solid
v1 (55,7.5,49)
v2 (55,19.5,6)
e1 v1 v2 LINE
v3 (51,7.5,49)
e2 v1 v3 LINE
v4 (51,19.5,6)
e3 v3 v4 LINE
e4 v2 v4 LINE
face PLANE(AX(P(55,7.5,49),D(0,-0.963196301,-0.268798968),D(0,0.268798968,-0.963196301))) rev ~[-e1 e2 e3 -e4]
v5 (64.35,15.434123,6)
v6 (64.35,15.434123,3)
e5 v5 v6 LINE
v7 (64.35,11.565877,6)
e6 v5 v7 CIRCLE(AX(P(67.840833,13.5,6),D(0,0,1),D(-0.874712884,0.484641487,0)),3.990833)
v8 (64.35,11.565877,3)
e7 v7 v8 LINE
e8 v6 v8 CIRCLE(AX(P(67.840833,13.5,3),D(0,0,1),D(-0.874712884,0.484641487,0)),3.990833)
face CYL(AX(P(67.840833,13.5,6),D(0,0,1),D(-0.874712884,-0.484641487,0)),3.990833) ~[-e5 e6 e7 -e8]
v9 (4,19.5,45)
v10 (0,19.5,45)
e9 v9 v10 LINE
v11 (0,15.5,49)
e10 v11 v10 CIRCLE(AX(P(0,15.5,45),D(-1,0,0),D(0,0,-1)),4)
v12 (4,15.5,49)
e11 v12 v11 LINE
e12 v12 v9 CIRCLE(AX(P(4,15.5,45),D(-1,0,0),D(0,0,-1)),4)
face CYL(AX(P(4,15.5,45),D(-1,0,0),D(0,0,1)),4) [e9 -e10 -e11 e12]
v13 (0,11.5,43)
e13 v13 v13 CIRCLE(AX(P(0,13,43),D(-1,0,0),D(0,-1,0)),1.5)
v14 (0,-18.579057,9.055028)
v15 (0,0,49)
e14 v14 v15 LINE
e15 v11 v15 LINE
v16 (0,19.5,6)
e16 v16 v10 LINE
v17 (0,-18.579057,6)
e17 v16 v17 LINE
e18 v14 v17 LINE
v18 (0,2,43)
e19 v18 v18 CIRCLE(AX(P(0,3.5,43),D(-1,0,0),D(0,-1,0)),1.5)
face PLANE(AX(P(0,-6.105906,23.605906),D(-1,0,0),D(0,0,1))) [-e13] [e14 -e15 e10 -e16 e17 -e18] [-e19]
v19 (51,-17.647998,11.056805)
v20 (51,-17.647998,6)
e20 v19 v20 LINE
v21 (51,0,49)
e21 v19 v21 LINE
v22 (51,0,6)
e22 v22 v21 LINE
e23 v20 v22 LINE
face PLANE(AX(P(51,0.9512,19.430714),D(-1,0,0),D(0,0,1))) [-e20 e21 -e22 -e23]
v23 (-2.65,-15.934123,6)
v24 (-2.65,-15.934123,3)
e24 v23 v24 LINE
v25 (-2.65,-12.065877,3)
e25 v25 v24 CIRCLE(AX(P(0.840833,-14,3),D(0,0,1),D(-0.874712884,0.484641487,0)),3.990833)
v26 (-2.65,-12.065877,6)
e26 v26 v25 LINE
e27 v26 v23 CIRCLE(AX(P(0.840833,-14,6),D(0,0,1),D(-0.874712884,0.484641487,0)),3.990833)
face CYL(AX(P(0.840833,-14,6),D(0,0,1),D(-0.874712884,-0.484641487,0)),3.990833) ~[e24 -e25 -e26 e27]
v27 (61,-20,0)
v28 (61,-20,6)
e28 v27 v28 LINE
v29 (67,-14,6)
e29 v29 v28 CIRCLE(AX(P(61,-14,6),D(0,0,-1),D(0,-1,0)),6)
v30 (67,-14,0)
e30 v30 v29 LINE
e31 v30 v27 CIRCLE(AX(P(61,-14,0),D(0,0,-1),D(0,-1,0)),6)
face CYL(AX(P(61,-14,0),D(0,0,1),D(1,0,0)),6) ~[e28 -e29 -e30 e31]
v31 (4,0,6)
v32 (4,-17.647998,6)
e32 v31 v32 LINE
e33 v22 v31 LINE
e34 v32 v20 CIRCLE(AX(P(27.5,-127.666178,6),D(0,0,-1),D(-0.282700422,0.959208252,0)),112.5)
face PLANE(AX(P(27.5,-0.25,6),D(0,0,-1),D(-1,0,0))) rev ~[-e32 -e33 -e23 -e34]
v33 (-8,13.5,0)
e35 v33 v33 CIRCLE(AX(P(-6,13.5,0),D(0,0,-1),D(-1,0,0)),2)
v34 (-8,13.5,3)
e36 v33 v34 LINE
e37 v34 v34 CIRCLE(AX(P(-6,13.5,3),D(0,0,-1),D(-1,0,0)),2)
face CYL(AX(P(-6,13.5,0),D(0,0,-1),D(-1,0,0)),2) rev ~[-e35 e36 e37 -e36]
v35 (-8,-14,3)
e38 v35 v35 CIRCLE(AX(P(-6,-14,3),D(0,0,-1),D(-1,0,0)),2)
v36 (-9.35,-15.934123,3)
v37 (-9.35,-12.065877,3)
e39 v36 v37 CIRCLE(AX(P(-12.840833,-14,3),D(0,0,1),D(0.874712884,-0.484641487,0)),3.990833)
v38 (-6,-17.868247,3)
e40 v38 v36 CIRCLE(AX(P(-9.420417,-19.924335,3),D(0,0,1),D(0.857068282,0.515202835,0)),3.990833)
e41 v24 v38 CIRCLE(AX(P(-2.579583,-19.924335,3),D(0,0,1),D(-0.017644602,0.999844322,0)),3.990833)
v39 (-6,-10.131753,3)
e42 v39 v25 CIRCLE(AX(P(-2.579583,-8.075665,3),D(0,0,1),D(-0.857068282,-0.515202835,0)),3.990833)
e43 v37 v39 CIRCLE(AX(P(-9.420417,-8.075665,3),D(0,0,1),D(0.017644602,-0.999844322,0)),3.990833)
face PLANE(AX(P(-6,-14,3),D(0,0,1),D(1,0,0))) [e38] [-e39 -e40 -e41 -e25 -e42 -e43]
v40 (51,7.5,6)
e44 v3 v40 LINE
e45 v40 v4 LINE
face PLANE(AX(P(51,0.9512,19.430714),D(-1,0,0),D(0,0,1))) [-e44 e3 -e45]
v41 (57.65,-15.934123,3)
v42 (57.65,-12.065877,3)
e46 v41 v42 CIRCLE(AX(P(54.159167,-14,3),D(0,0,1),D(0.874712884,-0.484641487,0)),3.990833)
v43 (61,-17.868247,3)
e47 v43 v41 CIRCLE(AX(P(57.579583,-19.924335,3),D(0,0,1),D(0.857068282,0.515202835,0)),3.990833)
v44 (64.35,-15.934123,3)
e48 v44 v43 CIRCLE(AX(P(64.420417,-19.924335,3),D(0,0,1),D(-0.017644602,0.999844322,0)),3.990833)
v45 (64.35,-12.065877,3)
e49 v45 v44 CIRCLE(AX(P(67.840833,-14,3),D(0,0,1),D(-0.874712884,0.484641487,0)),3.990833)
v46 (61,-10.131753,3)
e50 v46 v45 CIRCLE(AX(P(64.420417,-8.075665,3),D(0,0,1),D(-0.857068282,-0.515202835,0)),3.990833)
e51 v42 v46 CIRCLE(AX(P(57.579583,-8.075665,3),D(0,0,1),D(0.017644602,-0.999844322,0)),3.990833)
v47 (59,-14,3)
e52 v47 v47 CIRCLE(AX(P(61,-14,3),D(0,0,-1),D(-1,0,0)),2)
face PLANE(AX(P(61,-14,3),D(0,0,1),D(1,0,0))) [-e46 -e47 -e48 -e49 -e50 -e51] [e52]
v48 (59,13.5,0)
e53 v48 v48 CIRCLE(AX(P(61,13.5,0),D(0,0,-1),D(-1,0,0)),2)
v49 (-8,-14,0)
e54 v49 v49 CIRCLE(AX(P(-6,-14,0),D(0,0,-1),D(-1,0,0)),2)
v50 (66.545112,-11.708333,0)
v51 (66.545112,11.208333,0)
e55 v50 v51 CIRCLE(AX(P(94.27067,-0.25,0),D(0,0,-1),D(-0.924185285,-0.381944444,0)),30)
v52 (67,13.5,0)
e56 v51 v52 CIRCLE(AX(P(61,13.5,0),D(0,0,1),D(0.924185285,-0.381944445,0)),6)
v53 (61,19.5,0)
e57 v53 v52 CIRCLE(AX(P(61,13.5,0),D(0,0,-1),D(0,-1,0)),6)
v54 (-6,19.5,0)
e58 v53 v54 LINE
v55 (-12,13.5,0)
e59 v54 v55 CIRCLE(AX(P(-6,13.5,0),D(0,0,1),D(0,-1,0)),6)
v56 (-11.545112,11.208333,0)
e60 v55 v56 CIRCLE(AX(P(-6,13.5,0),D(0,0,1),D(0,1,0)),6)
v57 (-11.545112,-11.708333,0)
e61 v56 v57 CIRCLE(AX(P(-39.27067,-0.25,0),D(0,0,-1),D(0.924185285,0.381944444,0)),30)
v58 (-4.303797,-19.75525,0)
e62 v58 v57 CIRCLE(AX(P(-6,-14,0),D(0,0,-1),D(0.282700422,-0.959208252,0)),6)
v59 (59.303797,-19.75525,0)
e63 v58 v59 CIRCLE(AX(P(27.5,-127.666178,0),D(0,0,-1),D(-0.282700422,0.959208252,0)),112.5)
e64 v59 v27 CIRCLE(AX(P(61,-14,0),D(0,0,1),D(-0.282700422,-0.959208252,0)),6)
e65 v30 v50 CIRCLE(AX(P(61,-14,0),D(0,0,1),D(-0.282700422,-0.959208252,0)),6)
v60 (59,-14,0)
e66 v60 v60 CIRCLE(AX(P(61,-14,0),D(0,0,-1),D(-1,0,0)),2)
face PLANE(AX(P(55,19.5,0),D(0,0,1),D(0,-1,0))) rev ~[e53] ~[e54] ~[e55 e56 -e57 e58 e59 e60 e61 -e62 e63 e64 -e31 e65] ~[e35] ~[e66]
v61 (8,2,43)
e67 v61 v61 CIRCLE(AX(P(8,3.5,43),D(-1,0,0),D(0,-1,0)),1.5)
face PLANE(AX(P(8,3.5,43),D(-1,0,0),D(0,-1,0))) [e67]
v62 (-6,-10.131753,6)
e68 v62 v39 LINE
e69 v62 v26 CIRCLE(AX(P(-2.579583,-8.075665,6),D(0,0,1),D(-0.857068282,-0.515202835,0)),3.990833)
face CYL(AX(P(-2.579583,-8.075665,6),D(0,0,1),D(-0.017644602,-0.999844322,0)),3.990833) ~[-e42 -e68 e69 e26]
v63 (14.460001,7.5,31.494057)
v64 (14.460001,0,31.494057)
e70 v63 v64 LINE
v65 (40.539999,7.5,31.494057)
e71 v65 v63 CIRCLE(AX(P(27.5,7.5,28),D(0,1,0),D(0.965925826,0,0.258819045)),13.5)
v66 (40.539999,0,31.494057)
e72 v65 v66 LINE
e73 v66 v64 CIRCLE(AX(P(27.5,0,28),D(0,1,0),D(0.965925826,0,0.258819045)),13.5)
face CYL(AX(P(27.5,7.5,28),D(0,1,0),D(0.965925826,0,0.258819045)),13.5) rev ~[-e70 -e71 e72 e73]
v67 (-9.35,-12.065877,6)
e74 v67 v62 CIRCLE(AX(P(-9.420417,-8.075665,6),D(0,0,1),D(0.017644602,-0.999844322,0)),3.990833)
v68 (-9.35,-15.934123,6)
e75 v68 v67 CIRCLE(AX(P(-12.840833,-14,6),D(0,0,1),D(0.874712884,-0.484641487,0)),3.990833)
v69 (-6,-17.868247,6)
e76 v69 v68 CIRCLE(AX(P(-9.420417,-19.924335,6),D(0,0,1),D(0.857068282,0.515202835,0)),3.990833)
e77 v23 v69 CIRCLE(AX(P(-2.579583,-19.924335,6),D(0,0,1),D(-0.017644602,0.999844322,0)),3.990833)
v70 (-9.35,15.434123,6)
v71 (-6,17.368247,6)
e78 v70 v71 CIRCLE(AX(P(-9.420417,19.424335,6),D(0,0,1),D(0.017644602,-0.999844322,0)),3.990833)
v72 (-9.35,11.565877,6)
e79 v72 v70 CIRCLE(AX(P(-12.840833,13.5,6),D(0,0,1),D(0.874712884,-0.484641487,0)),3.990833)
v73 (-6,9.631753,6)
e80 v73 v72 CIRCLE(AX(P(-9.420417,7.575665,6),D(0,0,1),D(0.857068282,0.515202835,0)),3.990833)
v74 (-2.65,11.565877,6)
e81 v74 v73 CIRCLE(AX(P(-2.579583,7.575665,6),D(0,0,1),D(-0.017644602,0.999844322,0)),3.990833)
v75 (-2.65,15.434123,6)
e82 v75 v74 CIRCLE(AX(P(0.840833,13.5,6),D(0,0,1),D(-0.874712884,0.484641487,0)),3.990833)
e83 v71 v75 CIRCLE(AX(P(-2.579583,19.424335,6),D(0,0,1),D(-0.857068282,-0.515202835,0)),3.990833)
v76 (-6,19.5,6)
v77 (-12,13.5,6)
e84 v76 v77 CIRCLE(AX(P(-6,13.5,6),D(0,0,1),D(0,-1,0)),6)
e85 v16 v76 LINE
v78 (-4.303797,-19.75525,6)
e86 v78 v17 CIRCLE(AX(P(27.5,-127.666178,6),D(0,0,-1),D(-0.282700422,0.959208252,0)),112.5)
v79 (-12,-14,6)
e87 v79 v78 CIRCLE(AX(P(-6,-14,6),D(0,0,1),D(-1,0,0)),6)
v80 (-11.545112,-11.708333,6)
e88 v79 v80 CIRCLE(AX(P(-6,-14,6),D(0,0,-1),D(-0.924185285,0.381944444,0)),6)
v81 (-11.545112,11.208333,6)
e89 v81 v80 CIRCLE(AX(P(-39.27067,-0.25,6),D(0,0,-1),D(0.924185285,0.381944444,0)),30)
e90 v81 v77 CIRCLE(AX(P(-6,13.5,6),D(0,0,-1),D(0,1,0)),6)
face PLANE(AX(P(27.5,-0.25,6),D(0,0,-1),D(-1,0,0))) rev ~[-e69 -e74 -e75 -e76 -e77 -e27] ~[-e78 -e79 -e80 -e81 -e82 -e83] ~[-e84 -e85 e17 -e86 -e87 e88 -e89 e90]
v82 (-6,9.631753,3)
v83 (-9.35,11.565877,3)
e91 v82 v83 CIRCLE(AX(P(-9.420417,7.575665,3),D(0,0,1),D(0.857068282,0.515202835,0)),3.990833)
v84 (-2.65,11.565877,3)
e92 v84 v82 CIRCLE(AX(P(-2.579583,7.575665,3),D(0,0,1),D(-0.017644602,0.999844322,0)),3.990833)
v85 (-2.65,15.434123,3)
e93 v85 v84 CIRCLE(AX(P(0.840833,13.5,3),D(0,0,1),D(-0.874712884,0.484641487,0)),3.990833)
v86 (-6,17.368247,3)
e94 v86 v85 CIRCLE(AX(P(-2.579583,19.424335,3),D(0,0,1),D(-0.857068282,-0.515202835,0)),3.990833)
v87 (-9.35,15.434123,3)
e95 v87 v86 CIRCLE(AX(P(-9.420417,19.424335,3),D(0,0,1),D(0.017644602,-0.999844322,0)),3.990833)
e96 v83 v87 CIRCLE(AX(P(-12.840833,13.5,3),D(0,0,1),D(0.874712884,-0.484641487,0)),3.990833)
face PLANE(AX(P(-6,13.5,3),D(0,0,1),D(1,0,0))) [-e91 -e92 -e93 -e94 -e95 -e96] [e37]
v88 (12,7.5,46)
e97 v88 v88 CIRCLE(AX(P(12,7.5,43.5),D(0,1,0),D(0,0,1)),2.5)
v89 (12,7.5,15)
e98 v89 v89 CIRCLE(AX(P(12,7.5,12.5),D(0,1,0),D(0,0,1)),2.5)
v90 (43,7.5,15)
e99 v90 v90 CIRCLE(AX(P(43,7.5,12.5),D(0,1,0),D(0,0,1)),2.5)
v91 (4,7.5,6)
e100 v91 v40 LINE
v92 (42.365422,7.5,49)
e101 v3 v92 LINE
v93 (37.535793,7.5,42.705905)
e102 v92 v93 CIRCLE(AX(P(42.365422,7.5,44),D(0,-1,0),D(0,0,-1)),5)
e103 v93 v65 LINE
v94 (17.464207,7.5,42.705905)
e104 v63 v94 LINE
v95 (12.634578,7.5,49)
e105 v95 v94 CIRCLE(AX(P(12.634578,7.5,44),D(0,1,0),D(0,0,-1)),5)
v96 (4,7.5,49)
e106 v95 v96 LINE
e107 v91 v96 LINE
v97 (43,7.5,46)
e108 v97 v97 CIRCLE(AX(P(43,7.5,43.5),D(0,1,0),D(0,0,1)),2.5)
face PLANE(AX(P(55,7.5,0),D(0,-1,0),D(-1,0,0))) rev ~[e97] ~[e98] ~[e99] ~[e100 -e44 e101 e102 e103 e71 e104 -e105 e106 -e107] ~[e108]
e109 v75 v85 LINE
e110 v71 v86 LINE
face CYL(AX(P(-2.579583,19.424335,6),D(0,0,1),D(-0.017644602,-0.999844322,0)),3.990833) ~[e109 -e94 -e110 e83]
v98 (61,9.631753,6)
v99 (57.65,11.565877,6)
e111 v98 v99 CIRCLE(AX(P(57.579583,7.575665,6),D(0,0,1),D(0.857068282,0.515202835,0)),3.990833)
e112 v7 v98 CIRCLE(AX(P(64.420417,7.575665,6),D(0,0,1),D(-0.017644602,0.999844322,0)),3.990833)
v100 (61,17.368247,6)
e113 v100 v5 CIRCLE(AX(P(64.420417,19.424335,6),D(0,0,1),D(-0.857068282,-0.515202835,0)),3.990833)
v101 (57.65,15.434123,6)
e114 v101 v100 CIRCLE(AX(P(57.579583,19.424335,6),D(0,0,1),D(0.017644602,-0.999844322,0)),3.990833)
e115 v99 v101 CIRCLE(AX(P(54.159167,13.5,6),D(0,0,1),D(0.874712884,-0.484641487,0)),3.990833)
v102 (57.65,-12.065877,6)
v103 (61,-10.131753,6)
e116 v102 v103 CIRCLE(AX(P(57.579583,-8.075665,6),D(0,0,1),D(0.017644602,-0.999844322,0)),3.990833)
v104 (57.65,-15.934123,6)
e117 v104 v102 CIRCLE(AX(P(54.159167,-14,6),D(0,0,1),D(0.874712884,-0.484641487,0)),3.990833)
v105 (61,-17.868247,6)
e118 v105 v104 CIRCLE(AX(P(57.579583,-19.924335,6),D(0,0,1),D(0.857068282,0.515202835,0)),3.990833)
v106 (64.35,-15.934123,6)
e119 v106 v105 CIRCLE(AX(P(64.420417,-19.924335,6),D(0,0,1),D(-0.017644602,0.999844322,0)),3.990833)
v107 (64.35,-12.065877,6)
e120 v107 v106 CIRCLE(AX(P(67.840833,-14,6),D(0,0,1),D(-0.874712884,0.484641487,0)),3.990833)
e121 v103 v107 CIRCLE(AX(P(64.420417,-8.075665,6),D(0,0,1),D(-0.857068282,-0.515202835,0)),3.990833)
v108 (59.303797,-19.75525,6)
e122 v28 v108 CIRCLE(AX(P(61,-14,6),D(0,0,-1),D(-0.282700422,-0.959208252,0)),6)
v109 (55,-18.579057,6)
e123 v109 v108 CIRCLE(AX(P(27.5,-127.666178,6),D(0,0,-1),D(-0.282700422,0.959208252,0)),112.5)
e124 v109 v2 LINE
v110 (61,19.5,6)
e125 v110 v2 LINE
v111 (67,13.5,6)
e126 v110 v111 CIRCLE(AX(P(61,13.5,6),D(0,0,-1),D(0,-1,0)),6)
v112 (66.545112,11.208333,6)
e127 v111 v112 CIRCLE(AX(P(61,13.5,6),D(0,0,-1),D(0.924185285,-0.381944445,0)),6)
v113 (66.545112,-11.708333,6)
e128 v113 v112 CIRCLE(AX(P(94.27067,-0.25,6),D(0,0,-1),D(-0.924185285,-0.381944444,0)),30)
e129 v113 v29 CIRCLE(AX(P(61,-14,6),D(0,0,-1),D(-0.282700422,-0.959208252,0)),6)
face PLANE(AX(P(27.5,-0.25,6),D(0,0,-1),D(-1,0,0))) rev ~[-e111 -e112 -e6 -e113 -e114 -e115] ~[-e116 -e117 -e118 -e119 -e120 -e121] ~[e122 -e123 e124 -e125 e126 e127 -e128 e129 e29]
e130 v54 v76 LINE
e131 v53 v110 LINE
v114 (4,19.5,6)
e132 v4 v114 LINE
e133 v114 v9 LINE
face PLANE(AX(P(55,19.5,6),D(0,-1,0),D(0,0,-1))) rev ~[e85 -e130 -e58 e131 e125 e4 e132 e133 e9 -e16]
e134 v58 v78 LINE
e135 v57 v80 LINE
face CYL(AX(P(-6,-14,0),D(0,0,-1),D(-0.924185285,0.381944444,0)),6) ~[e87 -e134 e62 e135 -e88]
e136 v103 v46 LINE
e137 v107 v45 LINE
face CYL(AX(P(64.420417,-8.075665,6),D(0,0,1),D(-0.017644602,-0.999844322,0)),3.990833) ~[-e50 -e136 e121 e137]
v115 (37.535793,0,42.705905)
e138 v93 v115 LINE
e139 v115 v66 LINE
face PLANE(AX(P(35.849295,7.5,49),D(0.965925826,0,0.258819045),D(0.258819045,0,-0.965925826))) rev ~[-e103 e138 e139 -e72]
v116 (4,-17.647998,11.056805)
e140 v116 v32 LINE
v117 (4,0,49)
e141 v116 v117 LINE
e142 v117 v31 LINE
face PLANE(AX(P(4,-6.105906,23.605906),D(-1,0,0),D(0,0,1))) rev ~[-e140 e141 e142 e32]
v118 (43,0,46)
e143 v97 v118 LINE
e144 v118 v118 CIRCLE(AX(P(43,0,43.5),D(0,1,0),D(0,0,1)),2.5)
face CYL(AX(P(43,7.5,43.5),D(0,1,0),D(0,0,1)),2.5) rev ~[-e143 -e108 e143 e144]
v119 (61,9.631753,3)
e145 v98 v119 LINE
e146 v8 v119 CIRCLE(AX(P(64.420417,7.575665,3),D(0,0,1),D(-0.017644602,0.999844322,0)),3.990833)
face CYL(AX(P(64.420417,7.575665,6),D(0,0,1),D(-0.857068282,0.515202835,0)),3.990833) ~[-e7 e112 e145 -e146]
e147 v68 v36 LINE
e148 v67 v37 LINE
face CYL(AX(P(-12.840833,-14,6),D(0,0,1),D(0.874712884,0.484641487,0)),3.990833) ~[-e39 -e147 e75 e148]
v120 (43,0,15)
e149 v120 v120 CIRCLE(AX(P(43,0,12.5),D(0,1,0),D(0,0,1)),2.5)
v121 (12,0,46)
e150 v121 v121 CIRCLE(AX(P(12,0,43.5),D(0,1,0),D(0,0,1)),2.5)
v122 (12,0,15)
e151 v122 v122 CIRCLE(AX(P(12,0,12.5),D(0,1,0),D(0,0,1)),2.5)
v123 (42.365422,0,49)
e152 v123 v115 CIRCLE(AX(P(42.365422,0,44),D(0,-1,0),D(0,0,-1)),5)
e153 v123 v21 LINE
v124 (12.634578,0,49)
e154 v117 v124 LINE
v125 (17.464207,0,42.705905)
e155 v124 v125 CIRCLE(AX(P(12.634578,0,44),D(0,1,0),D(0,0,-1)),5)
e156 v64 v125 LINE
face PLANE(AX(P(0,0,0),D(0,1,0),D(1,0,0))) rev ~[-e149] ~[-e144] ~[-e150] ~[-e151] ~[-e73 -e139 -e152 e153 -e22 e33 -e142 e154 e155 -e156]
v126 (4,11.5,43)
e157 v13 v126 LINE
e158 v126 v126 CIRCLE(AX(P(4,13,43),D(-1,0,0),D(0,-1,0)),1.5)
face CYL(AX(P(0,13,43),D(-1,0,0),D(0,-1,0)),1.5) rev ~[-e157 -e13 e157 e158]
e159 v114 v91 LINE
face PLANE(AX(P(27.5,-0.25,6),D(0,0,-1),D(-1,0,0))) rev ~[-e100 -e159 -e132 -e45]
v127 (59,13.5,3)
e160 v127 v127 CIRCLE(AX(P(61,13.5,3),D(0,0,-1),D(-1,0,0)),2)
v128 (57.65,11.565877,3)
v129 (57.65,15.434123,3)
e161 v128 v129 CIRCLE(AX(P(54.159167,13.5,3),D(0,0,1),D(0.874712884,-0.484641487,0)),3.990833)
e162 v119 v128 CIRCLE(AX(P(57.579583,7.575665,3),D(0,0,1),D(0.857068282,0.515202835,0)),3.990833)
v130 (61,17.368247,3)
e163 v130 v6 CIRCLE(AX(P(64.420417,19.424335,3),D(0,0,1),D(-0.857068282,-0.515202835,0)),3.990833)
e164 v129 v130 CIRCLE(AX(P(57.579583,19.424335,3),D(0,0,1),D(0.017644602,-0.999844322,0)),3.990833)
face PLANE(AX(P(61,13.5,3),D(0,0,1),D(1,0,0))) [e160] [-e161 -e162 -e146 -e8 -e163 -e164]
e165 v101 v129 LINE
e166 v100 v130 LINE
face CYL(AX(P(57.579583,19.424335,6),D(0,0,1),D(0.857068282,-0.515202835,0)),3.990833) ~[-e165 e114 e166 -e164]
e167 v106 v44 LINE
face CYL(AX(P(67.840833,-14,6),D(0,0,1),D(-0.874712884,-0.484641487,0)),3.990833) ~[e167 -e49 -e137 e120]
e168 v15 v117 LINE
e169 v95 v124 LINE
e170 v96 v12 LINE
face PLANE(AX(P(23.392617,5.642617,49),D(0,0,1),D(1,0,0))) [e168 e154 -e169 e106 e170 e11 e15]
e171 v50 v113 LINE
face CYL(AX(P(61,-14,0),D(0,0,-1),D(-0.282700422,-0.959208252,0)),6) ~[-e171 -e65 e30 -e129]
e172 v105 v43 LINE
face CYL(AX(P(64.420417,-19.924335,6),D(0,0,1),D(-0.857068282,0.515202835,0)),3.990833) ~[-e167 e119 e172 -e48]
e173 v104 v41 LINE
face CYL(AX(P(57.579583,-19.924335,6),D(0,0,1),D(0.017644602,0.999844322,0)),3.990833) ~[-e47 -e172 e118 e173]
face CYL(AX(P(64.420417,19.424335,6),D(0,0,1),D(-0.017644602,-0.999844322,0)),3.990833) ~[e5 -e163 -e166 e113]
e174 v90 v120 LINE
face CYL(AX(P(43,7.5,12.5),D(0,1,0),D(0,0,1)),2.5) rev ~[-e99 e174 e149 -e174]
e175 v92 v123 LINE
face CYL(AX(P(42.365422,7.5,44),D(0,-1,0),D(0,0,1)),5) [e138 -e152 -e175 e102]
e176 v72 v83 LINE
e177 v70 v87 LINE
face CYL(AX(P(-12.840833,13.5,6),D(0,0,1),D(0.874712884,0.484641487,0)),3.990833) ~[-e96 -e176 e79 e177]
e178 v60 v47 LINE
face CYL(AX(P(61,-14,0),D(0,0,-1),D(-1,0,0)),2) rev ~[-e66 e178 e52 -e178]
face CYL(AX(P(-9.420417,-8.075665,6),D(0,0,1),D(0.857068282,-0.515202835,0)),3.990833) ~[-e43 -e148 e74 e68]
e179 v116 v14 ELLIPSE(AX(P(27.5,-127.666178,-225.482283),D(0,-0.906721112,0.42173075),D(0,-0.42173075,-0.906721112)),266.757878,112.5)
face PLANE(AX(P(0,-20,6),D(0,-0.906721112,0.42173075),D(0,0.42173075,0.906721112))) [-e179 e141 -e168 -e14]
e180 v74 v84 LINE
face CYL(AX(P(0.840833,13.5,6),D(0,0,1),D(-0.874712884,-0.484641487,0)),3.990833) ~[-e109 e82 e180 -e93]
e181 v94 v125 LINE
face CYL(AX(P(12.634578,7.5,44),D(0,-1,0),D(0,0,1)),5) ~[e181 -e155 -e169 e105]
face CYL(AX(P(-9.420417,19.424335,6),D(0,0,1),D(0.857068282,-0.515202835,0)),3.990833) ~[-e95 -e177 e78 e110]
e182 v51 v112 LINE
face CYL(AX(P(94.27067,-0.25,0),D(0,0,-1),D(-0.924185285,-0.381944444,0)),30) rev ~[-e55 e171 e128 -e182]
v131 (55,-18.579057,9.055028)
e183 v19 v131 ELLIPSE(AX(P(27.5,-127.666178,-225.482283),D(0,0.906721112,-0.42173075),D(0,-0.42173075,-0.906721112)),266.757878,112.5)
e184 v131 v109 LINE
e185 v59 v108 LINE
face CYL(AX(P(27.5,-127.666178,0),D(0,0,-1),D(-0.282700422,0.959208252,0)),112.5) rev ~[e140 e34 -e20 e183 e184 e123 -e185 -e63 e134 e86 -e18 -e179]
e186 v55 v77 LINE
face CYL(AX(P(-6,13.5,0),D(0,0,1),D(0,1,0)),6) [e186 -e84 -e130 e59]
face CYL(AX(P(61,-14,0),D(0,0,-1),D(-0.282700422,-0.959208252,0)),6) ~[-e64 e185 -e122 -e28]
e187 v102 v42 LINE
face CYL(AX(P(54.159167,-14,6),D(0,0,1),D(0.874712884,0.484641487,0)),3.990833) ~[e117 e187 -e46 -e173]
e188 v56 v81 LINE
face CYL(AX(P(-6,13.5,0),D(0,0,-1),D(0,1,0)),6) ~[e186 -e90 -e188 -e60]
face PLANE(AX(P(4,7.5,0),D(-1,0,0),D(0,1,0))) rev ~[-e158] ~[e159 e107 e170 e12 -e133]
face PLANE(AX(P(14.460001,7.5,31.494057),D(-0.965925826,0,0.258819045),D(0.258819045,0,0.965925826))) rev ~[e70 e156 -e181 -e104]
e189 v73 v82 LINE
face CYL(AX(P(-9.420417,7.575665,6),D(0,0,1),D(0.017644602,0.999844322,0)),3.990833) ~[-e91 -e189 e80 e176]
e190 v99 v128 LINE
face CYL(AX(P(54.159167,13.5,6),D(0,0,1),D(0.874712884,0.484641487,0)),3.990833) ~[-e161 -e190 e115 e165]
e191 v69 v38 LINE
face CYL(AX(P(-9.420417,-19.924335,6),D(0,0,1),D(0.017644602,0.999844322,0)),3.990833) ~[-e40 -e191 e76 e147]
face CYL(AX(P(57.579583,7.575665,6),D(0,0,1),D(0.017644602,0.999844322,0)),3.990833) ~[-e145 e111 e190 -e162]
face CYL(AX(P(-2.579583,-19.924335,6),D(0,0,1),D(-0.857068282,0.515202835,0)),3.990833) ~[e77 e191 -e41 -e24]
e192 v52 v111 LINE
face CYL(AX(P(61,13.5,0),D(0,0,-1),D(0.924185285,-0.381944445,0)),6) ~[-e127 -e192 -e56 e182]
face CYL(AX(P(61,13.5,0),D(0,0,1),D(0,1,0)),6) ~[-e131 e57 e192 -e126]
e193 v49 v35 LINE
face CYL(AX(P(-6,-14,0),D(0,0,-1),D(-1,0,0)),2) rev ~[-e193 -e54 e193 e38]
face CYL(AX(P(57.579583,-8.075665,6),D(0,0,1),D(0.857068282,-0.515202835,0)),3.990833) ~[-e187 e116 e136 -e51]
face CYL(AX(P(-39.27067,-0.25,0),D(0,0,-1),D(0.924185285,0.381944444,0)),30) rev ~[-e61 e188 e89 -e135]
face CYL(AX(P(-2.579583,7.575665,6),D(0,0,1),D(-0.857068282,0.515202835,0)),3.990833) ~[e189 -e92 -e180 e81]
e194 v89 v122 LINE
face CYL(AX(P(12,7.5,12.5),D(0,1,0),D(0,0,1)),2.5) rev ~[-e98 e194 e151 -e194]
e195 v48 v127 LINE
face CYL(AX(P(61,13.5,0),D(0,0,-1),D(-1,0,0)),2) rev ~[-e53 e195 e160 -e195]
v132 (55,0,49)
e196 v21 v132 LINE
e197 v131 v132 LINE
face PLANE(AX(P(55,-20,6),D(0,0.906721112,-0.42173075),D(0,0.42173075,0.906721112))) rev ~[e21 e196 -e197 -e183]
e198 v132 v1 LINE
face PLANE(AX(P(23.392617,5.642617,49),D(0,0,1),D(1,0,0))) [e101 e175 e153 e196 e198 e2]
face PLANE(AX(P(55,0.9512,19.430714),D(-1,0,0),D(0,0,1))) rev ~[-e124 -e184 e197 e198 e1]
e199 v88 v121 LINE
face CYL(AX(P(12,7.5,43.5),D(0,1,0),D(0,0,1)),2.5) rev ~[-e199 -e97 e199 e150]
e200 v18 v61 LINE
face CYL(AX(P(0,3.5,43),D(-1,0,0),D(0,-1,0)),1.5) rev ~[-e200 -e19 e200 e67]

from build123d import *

# Parameters (mm, degrees)
BOSS_EXTRUDE1_DEPTH  = 49
SKETCH2_R            = 2.5
CUT_EXTRUDE1_DEPTH   = 8.5
SKETCH4_W            = 79
SKETCH4_H            = 39.5
BOSS_EXTRUDE2_DEPTH  = 6
BOSS_EXTRUDE3_DEPTH  = 4
SKETCH5_R            = 2
CUT_EXTRUDE3_DEPTH   = 10
BOSS_EXTRUDE4_DEPTH  = 4
SKETCH8_R            = 1.5
CUT_EXTRUDE4_DEPTH   = 8
FILLET1_R            = 6
FILLET2_R            = 5
CUT_EXTRUDE5_DEPTH   = 3
CUT_EXTRUDE6_DEPTH   = 50
FILLET3_R            = 4
CUT_EXTRUDE7_DEPTH   = 3
LPATTERN1_COUNT      = 2
LPATTERN1_PITCH      = 67
LPATTERN1_COUNT_DIR2 = 2
LPATTERN1_PITCH_DIR2 = 27.5


with BuildPart() as part:
    # Sketch1 → Boss-Extrude1 (new body)
    with BuildSketch(Plane.XY):
        Polygon((4, 7.5), (4, 19.5), (0, 19.5), (0, 0), (55, 0), (55, 7.5), align=None)
    extrude(amount=BOSS_EXTRUDE1_DEPTH)

    # Sketch2 → Cut-Extrude1 (cut, through all)
    with BuildSketch(Plane(origin=(0, 7.5, 0), x_dir=(1, 0, 0), z_dir=(0, 1, 0))):
        with Locations(Location((12, -12.5, 0), (0, 0, 270))):  # turned: the seam where the file's is
            Circle(SKETCH2_R)
        with Locations(Location((43, -12.5, 0), (0, 0, 270))):  # turned: the seam where the file's is
            Circle(SKETCH2_R)
        with Locations(Location((12, -43.5, 0), (0, 0, 270))):  # turned: the seam where the file's is
            Circle(SKETCH2_R)
        with Locations(Location((43, -43.5, 0), (0, 0, 270))):  # turned: the seam where the file's is
            Circle(SKETCH2_R)
        with BuildLine():
            Line((14.460001345, -31.494057109), (19.150704606, -49))
            Line((19.150704606, -49), (35.849295394, -49))
            Line((35.849295394, -49), (40.539998655, -31.494057109))
            ThreePointArc((40.539998655, -31.494057109), (27.5, -14.5), (14.460001345, -31.494057109))
        make_face()
    extrude(amount=-CUT_EXTRUDE1_DEPTH, mode=Mode.SUBTRACT)

    # Sketch4 → Boss-Extrude2 (add)
    with BuildSketch(Plane(origin=(0, 0, 0), x_dir=(-1, 0, 0), z_dir=(0, 0, -1))):
        with Locations((-27.5, -0.25)):
            Rectangle(SKETCH4_W, SKETCH4_H)
    extrude(amount=-BOSS_EXTRUDE2_DEPTH)

    # Sketch6 → Boss-Extrude3 (add)
    with BuildSketch(Plane.ZY):
        Polygon((6, -20), (49, 0), (6, 0), align=None)
    extrude(amount=-BOSS_EXTRUDE3_DEPTH)

    # Sketch5 → Cut-Extrude3 (cut)
    with BuildSketch(Plane(origin=(0, 0, 0), x_dir=(-1, 0, 0), z_dir=(0, 0, -1))):
        with Locations((-61, 13.5)):
            Circle(SKETCH5_R)
        with Locations((-61, -14)):
            Circle(SKETCH5_R)
        with Locations((6, 13.5)):
            Circle(SKETCH5_R)
        with Locations((6, -14)):
            Circle(SKETCH5_R)
    extrude(amount=-CUT_EXTRUDE3_DEPTH, mode=Mode.SUBTRACT)

    # Sketch7 → Boss-Extrude4 (add)
    with BuildSketch(Plane(origin=(55, 0, 0), x_dir=(0, 0, -1), z_dir=(1, 0, 0))):
        Polygon((-49, 7.5), (-6, 19.5), (0, 19.5), (0, -20), (-6, -20), (-49, 0), align=None)
    extrude(amount=-BOSS_EXTRUDE4_DEPTH)

    # Sketch8 → Cut-Extrude4 (cut)
    with BuildSketch(Plane.ZY):
        with Locations(Location((43, 13, 0), (0, 0, 270))):  # turned: the seam where the file's is
            Circle(SKETCH8_R)
        with Locations(Location((43, 3.5, 0), (0, 0, 270))):  # turned: the seam where the file's is
            Circle(SKETCH8_R)
    extrude(amount=-CUT_EXTRUDE4_DEPTH, mode=Mode.SUBTRACT)

    # Fillet1
    fillet1_edges = [part.edges().sort_by_distance(p)[0] for p in [
        (67, 19.5, 3),
        (-12, 19.5, 3),
        (-12, -20, 3),
        (67, -20, 3),
    ]]
    fillet(fillet1_edges, radius=FILLET1_R)

    # Fillet2
    fillet2_edges = [part.edges().sort_by_distance(p)[0] for p in [
        (35.849295394, 3.75, 49),
        (19.150704606, 3.75, 49),
    ]]
    fillet(fillet2_edges, radius=FILLET2_R)

    # Sketch9 → Cut-Extrude5 (cut)
    with BuildSketch(Plane.XY.offset(6)):
        Polygon((-6, 16.790896534), (-8.85, 15.145448267), (-8.85, 11.854551733), (-6, 10.209103466), (-3.15, 11.854551733), (-3.15, 15.145448267), align=None)
        Polygon((-6, -10.709103466), (-8.85, -12.354551733), (-8.85, -15.645448267), (-6, -17.290896534), (-3.15, -15.645448267), (-3.15, -12.354551733), align=None)
        Polygon((61, -10.709103466), (58.15, -12.354551733), (58.15, -15.645448267), (61, -17.290896534), (63.85, -15.645448267), (63.85, -12.354551733), align=None)
        Polygon((61, 10.209103466), (63.85, 11.854551733), (63.85, 15.145448267), (61, 16.790896534), (58.15, 15.145448267), (58.15, 11.854551733), align=None)
    extrude(amount=-CUT_EXTRUDE5_DEPTH, mode=Mode.SUBTRACT)

    # Sketch10 → Cut-Extrude6 (cut, through all)
    with BuildSketch(Plane(origin=(0, 0, 0), x_dir=(-1, 0, 0), z_dir=(0, 0, -1))):
        with BuildLine():
            Line((-61, 19.5), (-61, 26.194717678))
            Line((-61, 26.194717678), (-93.21372943, 26.194717678))
            Line((-93.21372943, 26.194717678), (-93.21372943, -32.483465835))
            Line((-93.21372943, -32.483465835), (20.656804912, -32.483465835))
            Line((20.656804912, -32.483465835), (20.656804912, 27.240467483))
            Line((20.656804912, 27.240467483), (6, 27.240467483))
            Line((6, 27.240467483), (6, 19.5))
            ThreePointArc((6, 19.5), (10.987484336, 16.835416016), (11.545111711, 11.208333333))
            ThreePointArc((11.545111711, 11.208333333), (9.270670267, -0.25), (11.545111711, -11.708333333))
            ThreePointArc((11.545111711, -11.708333333), (10.460015748, -18.013509627), (4.303797468, -19.755249514))
            ThreePointArc((4.303797468, -19.755249514), (-27.5, -15.166177907), (-59.303797468, -19.755249514))
            ThreePointArc((-59.303797468, -19.755249514), (-65.460015748, -18.013509627), (-66.545111711, -11.708333333))
            ThreePointArc((-66.545111711, -11.708333333), (-64.270670267, -0.25), (-66.545111711, 11.208333333))
            ThreePointArc((-66.545111711, 11.208333333), (-65.987484336, 16.835416016), (-61, 19.5))
        make_face()
    extrude(amount=-CUT_EXTRUDE6_DEPTH, mode=Mode.SUBTRACT)

    # Fillet3
    fillet3_edges = [part.edges().sort_by_distance(p)[0] for p in [
        (2, 19.5, 49),
    ]]
    fillet(fillet3_edges, radius=FILLET3_R)

    # Sketch11 → Cut-Extrude7 (cut)
    with BuildSketch(Plane.XY.offset(6)):
        with BuildLine():
            ThreePointArc((-9.35, 15.434123402), (-8.85, 13.5), (-9.35, 11.565876598))
            ThreePointArc((-9.35, 11.565876598), (-7.425, 11.031827599), (-6, 9.631753196))
            ThreePointArc((-6, 9.631753196), (-4.575, 11.031827599), (-2.65, 11.565876598))
            ThreePointArc((-2.65, 11.565876598), (-3.15, 13.5), (-2.65, 15.434123402))
            ThreePointArc((-2.65, 15.434123402), (-4.575, 15.968172401), (-6, 17.368246804))
            ThreePointArc((-6, 17.368246804), (-7.425, 15.968172401), (-9.35, 15.434123402))
        make_face()
    cut_extrude7 = extrude(amount=-CUT_EXTRUDE7_DEPTH, mode=Mode.SUBTRACT)

    # LPattern1: Cut-Extrude7 2 × 2
    with Locations(*[(i * LPATTERN1_PITCH, -j * LPATTERN1_PITCH_DIR2, 0) for i in range(LPATTERN1_COUNT) for j in range(LPATTERN1_COUNT_DIR2) if (i, j) != (0, 0)]):
        add(cut_extrude7, mode=Mode.SUBTRACT)


solid = part.part
